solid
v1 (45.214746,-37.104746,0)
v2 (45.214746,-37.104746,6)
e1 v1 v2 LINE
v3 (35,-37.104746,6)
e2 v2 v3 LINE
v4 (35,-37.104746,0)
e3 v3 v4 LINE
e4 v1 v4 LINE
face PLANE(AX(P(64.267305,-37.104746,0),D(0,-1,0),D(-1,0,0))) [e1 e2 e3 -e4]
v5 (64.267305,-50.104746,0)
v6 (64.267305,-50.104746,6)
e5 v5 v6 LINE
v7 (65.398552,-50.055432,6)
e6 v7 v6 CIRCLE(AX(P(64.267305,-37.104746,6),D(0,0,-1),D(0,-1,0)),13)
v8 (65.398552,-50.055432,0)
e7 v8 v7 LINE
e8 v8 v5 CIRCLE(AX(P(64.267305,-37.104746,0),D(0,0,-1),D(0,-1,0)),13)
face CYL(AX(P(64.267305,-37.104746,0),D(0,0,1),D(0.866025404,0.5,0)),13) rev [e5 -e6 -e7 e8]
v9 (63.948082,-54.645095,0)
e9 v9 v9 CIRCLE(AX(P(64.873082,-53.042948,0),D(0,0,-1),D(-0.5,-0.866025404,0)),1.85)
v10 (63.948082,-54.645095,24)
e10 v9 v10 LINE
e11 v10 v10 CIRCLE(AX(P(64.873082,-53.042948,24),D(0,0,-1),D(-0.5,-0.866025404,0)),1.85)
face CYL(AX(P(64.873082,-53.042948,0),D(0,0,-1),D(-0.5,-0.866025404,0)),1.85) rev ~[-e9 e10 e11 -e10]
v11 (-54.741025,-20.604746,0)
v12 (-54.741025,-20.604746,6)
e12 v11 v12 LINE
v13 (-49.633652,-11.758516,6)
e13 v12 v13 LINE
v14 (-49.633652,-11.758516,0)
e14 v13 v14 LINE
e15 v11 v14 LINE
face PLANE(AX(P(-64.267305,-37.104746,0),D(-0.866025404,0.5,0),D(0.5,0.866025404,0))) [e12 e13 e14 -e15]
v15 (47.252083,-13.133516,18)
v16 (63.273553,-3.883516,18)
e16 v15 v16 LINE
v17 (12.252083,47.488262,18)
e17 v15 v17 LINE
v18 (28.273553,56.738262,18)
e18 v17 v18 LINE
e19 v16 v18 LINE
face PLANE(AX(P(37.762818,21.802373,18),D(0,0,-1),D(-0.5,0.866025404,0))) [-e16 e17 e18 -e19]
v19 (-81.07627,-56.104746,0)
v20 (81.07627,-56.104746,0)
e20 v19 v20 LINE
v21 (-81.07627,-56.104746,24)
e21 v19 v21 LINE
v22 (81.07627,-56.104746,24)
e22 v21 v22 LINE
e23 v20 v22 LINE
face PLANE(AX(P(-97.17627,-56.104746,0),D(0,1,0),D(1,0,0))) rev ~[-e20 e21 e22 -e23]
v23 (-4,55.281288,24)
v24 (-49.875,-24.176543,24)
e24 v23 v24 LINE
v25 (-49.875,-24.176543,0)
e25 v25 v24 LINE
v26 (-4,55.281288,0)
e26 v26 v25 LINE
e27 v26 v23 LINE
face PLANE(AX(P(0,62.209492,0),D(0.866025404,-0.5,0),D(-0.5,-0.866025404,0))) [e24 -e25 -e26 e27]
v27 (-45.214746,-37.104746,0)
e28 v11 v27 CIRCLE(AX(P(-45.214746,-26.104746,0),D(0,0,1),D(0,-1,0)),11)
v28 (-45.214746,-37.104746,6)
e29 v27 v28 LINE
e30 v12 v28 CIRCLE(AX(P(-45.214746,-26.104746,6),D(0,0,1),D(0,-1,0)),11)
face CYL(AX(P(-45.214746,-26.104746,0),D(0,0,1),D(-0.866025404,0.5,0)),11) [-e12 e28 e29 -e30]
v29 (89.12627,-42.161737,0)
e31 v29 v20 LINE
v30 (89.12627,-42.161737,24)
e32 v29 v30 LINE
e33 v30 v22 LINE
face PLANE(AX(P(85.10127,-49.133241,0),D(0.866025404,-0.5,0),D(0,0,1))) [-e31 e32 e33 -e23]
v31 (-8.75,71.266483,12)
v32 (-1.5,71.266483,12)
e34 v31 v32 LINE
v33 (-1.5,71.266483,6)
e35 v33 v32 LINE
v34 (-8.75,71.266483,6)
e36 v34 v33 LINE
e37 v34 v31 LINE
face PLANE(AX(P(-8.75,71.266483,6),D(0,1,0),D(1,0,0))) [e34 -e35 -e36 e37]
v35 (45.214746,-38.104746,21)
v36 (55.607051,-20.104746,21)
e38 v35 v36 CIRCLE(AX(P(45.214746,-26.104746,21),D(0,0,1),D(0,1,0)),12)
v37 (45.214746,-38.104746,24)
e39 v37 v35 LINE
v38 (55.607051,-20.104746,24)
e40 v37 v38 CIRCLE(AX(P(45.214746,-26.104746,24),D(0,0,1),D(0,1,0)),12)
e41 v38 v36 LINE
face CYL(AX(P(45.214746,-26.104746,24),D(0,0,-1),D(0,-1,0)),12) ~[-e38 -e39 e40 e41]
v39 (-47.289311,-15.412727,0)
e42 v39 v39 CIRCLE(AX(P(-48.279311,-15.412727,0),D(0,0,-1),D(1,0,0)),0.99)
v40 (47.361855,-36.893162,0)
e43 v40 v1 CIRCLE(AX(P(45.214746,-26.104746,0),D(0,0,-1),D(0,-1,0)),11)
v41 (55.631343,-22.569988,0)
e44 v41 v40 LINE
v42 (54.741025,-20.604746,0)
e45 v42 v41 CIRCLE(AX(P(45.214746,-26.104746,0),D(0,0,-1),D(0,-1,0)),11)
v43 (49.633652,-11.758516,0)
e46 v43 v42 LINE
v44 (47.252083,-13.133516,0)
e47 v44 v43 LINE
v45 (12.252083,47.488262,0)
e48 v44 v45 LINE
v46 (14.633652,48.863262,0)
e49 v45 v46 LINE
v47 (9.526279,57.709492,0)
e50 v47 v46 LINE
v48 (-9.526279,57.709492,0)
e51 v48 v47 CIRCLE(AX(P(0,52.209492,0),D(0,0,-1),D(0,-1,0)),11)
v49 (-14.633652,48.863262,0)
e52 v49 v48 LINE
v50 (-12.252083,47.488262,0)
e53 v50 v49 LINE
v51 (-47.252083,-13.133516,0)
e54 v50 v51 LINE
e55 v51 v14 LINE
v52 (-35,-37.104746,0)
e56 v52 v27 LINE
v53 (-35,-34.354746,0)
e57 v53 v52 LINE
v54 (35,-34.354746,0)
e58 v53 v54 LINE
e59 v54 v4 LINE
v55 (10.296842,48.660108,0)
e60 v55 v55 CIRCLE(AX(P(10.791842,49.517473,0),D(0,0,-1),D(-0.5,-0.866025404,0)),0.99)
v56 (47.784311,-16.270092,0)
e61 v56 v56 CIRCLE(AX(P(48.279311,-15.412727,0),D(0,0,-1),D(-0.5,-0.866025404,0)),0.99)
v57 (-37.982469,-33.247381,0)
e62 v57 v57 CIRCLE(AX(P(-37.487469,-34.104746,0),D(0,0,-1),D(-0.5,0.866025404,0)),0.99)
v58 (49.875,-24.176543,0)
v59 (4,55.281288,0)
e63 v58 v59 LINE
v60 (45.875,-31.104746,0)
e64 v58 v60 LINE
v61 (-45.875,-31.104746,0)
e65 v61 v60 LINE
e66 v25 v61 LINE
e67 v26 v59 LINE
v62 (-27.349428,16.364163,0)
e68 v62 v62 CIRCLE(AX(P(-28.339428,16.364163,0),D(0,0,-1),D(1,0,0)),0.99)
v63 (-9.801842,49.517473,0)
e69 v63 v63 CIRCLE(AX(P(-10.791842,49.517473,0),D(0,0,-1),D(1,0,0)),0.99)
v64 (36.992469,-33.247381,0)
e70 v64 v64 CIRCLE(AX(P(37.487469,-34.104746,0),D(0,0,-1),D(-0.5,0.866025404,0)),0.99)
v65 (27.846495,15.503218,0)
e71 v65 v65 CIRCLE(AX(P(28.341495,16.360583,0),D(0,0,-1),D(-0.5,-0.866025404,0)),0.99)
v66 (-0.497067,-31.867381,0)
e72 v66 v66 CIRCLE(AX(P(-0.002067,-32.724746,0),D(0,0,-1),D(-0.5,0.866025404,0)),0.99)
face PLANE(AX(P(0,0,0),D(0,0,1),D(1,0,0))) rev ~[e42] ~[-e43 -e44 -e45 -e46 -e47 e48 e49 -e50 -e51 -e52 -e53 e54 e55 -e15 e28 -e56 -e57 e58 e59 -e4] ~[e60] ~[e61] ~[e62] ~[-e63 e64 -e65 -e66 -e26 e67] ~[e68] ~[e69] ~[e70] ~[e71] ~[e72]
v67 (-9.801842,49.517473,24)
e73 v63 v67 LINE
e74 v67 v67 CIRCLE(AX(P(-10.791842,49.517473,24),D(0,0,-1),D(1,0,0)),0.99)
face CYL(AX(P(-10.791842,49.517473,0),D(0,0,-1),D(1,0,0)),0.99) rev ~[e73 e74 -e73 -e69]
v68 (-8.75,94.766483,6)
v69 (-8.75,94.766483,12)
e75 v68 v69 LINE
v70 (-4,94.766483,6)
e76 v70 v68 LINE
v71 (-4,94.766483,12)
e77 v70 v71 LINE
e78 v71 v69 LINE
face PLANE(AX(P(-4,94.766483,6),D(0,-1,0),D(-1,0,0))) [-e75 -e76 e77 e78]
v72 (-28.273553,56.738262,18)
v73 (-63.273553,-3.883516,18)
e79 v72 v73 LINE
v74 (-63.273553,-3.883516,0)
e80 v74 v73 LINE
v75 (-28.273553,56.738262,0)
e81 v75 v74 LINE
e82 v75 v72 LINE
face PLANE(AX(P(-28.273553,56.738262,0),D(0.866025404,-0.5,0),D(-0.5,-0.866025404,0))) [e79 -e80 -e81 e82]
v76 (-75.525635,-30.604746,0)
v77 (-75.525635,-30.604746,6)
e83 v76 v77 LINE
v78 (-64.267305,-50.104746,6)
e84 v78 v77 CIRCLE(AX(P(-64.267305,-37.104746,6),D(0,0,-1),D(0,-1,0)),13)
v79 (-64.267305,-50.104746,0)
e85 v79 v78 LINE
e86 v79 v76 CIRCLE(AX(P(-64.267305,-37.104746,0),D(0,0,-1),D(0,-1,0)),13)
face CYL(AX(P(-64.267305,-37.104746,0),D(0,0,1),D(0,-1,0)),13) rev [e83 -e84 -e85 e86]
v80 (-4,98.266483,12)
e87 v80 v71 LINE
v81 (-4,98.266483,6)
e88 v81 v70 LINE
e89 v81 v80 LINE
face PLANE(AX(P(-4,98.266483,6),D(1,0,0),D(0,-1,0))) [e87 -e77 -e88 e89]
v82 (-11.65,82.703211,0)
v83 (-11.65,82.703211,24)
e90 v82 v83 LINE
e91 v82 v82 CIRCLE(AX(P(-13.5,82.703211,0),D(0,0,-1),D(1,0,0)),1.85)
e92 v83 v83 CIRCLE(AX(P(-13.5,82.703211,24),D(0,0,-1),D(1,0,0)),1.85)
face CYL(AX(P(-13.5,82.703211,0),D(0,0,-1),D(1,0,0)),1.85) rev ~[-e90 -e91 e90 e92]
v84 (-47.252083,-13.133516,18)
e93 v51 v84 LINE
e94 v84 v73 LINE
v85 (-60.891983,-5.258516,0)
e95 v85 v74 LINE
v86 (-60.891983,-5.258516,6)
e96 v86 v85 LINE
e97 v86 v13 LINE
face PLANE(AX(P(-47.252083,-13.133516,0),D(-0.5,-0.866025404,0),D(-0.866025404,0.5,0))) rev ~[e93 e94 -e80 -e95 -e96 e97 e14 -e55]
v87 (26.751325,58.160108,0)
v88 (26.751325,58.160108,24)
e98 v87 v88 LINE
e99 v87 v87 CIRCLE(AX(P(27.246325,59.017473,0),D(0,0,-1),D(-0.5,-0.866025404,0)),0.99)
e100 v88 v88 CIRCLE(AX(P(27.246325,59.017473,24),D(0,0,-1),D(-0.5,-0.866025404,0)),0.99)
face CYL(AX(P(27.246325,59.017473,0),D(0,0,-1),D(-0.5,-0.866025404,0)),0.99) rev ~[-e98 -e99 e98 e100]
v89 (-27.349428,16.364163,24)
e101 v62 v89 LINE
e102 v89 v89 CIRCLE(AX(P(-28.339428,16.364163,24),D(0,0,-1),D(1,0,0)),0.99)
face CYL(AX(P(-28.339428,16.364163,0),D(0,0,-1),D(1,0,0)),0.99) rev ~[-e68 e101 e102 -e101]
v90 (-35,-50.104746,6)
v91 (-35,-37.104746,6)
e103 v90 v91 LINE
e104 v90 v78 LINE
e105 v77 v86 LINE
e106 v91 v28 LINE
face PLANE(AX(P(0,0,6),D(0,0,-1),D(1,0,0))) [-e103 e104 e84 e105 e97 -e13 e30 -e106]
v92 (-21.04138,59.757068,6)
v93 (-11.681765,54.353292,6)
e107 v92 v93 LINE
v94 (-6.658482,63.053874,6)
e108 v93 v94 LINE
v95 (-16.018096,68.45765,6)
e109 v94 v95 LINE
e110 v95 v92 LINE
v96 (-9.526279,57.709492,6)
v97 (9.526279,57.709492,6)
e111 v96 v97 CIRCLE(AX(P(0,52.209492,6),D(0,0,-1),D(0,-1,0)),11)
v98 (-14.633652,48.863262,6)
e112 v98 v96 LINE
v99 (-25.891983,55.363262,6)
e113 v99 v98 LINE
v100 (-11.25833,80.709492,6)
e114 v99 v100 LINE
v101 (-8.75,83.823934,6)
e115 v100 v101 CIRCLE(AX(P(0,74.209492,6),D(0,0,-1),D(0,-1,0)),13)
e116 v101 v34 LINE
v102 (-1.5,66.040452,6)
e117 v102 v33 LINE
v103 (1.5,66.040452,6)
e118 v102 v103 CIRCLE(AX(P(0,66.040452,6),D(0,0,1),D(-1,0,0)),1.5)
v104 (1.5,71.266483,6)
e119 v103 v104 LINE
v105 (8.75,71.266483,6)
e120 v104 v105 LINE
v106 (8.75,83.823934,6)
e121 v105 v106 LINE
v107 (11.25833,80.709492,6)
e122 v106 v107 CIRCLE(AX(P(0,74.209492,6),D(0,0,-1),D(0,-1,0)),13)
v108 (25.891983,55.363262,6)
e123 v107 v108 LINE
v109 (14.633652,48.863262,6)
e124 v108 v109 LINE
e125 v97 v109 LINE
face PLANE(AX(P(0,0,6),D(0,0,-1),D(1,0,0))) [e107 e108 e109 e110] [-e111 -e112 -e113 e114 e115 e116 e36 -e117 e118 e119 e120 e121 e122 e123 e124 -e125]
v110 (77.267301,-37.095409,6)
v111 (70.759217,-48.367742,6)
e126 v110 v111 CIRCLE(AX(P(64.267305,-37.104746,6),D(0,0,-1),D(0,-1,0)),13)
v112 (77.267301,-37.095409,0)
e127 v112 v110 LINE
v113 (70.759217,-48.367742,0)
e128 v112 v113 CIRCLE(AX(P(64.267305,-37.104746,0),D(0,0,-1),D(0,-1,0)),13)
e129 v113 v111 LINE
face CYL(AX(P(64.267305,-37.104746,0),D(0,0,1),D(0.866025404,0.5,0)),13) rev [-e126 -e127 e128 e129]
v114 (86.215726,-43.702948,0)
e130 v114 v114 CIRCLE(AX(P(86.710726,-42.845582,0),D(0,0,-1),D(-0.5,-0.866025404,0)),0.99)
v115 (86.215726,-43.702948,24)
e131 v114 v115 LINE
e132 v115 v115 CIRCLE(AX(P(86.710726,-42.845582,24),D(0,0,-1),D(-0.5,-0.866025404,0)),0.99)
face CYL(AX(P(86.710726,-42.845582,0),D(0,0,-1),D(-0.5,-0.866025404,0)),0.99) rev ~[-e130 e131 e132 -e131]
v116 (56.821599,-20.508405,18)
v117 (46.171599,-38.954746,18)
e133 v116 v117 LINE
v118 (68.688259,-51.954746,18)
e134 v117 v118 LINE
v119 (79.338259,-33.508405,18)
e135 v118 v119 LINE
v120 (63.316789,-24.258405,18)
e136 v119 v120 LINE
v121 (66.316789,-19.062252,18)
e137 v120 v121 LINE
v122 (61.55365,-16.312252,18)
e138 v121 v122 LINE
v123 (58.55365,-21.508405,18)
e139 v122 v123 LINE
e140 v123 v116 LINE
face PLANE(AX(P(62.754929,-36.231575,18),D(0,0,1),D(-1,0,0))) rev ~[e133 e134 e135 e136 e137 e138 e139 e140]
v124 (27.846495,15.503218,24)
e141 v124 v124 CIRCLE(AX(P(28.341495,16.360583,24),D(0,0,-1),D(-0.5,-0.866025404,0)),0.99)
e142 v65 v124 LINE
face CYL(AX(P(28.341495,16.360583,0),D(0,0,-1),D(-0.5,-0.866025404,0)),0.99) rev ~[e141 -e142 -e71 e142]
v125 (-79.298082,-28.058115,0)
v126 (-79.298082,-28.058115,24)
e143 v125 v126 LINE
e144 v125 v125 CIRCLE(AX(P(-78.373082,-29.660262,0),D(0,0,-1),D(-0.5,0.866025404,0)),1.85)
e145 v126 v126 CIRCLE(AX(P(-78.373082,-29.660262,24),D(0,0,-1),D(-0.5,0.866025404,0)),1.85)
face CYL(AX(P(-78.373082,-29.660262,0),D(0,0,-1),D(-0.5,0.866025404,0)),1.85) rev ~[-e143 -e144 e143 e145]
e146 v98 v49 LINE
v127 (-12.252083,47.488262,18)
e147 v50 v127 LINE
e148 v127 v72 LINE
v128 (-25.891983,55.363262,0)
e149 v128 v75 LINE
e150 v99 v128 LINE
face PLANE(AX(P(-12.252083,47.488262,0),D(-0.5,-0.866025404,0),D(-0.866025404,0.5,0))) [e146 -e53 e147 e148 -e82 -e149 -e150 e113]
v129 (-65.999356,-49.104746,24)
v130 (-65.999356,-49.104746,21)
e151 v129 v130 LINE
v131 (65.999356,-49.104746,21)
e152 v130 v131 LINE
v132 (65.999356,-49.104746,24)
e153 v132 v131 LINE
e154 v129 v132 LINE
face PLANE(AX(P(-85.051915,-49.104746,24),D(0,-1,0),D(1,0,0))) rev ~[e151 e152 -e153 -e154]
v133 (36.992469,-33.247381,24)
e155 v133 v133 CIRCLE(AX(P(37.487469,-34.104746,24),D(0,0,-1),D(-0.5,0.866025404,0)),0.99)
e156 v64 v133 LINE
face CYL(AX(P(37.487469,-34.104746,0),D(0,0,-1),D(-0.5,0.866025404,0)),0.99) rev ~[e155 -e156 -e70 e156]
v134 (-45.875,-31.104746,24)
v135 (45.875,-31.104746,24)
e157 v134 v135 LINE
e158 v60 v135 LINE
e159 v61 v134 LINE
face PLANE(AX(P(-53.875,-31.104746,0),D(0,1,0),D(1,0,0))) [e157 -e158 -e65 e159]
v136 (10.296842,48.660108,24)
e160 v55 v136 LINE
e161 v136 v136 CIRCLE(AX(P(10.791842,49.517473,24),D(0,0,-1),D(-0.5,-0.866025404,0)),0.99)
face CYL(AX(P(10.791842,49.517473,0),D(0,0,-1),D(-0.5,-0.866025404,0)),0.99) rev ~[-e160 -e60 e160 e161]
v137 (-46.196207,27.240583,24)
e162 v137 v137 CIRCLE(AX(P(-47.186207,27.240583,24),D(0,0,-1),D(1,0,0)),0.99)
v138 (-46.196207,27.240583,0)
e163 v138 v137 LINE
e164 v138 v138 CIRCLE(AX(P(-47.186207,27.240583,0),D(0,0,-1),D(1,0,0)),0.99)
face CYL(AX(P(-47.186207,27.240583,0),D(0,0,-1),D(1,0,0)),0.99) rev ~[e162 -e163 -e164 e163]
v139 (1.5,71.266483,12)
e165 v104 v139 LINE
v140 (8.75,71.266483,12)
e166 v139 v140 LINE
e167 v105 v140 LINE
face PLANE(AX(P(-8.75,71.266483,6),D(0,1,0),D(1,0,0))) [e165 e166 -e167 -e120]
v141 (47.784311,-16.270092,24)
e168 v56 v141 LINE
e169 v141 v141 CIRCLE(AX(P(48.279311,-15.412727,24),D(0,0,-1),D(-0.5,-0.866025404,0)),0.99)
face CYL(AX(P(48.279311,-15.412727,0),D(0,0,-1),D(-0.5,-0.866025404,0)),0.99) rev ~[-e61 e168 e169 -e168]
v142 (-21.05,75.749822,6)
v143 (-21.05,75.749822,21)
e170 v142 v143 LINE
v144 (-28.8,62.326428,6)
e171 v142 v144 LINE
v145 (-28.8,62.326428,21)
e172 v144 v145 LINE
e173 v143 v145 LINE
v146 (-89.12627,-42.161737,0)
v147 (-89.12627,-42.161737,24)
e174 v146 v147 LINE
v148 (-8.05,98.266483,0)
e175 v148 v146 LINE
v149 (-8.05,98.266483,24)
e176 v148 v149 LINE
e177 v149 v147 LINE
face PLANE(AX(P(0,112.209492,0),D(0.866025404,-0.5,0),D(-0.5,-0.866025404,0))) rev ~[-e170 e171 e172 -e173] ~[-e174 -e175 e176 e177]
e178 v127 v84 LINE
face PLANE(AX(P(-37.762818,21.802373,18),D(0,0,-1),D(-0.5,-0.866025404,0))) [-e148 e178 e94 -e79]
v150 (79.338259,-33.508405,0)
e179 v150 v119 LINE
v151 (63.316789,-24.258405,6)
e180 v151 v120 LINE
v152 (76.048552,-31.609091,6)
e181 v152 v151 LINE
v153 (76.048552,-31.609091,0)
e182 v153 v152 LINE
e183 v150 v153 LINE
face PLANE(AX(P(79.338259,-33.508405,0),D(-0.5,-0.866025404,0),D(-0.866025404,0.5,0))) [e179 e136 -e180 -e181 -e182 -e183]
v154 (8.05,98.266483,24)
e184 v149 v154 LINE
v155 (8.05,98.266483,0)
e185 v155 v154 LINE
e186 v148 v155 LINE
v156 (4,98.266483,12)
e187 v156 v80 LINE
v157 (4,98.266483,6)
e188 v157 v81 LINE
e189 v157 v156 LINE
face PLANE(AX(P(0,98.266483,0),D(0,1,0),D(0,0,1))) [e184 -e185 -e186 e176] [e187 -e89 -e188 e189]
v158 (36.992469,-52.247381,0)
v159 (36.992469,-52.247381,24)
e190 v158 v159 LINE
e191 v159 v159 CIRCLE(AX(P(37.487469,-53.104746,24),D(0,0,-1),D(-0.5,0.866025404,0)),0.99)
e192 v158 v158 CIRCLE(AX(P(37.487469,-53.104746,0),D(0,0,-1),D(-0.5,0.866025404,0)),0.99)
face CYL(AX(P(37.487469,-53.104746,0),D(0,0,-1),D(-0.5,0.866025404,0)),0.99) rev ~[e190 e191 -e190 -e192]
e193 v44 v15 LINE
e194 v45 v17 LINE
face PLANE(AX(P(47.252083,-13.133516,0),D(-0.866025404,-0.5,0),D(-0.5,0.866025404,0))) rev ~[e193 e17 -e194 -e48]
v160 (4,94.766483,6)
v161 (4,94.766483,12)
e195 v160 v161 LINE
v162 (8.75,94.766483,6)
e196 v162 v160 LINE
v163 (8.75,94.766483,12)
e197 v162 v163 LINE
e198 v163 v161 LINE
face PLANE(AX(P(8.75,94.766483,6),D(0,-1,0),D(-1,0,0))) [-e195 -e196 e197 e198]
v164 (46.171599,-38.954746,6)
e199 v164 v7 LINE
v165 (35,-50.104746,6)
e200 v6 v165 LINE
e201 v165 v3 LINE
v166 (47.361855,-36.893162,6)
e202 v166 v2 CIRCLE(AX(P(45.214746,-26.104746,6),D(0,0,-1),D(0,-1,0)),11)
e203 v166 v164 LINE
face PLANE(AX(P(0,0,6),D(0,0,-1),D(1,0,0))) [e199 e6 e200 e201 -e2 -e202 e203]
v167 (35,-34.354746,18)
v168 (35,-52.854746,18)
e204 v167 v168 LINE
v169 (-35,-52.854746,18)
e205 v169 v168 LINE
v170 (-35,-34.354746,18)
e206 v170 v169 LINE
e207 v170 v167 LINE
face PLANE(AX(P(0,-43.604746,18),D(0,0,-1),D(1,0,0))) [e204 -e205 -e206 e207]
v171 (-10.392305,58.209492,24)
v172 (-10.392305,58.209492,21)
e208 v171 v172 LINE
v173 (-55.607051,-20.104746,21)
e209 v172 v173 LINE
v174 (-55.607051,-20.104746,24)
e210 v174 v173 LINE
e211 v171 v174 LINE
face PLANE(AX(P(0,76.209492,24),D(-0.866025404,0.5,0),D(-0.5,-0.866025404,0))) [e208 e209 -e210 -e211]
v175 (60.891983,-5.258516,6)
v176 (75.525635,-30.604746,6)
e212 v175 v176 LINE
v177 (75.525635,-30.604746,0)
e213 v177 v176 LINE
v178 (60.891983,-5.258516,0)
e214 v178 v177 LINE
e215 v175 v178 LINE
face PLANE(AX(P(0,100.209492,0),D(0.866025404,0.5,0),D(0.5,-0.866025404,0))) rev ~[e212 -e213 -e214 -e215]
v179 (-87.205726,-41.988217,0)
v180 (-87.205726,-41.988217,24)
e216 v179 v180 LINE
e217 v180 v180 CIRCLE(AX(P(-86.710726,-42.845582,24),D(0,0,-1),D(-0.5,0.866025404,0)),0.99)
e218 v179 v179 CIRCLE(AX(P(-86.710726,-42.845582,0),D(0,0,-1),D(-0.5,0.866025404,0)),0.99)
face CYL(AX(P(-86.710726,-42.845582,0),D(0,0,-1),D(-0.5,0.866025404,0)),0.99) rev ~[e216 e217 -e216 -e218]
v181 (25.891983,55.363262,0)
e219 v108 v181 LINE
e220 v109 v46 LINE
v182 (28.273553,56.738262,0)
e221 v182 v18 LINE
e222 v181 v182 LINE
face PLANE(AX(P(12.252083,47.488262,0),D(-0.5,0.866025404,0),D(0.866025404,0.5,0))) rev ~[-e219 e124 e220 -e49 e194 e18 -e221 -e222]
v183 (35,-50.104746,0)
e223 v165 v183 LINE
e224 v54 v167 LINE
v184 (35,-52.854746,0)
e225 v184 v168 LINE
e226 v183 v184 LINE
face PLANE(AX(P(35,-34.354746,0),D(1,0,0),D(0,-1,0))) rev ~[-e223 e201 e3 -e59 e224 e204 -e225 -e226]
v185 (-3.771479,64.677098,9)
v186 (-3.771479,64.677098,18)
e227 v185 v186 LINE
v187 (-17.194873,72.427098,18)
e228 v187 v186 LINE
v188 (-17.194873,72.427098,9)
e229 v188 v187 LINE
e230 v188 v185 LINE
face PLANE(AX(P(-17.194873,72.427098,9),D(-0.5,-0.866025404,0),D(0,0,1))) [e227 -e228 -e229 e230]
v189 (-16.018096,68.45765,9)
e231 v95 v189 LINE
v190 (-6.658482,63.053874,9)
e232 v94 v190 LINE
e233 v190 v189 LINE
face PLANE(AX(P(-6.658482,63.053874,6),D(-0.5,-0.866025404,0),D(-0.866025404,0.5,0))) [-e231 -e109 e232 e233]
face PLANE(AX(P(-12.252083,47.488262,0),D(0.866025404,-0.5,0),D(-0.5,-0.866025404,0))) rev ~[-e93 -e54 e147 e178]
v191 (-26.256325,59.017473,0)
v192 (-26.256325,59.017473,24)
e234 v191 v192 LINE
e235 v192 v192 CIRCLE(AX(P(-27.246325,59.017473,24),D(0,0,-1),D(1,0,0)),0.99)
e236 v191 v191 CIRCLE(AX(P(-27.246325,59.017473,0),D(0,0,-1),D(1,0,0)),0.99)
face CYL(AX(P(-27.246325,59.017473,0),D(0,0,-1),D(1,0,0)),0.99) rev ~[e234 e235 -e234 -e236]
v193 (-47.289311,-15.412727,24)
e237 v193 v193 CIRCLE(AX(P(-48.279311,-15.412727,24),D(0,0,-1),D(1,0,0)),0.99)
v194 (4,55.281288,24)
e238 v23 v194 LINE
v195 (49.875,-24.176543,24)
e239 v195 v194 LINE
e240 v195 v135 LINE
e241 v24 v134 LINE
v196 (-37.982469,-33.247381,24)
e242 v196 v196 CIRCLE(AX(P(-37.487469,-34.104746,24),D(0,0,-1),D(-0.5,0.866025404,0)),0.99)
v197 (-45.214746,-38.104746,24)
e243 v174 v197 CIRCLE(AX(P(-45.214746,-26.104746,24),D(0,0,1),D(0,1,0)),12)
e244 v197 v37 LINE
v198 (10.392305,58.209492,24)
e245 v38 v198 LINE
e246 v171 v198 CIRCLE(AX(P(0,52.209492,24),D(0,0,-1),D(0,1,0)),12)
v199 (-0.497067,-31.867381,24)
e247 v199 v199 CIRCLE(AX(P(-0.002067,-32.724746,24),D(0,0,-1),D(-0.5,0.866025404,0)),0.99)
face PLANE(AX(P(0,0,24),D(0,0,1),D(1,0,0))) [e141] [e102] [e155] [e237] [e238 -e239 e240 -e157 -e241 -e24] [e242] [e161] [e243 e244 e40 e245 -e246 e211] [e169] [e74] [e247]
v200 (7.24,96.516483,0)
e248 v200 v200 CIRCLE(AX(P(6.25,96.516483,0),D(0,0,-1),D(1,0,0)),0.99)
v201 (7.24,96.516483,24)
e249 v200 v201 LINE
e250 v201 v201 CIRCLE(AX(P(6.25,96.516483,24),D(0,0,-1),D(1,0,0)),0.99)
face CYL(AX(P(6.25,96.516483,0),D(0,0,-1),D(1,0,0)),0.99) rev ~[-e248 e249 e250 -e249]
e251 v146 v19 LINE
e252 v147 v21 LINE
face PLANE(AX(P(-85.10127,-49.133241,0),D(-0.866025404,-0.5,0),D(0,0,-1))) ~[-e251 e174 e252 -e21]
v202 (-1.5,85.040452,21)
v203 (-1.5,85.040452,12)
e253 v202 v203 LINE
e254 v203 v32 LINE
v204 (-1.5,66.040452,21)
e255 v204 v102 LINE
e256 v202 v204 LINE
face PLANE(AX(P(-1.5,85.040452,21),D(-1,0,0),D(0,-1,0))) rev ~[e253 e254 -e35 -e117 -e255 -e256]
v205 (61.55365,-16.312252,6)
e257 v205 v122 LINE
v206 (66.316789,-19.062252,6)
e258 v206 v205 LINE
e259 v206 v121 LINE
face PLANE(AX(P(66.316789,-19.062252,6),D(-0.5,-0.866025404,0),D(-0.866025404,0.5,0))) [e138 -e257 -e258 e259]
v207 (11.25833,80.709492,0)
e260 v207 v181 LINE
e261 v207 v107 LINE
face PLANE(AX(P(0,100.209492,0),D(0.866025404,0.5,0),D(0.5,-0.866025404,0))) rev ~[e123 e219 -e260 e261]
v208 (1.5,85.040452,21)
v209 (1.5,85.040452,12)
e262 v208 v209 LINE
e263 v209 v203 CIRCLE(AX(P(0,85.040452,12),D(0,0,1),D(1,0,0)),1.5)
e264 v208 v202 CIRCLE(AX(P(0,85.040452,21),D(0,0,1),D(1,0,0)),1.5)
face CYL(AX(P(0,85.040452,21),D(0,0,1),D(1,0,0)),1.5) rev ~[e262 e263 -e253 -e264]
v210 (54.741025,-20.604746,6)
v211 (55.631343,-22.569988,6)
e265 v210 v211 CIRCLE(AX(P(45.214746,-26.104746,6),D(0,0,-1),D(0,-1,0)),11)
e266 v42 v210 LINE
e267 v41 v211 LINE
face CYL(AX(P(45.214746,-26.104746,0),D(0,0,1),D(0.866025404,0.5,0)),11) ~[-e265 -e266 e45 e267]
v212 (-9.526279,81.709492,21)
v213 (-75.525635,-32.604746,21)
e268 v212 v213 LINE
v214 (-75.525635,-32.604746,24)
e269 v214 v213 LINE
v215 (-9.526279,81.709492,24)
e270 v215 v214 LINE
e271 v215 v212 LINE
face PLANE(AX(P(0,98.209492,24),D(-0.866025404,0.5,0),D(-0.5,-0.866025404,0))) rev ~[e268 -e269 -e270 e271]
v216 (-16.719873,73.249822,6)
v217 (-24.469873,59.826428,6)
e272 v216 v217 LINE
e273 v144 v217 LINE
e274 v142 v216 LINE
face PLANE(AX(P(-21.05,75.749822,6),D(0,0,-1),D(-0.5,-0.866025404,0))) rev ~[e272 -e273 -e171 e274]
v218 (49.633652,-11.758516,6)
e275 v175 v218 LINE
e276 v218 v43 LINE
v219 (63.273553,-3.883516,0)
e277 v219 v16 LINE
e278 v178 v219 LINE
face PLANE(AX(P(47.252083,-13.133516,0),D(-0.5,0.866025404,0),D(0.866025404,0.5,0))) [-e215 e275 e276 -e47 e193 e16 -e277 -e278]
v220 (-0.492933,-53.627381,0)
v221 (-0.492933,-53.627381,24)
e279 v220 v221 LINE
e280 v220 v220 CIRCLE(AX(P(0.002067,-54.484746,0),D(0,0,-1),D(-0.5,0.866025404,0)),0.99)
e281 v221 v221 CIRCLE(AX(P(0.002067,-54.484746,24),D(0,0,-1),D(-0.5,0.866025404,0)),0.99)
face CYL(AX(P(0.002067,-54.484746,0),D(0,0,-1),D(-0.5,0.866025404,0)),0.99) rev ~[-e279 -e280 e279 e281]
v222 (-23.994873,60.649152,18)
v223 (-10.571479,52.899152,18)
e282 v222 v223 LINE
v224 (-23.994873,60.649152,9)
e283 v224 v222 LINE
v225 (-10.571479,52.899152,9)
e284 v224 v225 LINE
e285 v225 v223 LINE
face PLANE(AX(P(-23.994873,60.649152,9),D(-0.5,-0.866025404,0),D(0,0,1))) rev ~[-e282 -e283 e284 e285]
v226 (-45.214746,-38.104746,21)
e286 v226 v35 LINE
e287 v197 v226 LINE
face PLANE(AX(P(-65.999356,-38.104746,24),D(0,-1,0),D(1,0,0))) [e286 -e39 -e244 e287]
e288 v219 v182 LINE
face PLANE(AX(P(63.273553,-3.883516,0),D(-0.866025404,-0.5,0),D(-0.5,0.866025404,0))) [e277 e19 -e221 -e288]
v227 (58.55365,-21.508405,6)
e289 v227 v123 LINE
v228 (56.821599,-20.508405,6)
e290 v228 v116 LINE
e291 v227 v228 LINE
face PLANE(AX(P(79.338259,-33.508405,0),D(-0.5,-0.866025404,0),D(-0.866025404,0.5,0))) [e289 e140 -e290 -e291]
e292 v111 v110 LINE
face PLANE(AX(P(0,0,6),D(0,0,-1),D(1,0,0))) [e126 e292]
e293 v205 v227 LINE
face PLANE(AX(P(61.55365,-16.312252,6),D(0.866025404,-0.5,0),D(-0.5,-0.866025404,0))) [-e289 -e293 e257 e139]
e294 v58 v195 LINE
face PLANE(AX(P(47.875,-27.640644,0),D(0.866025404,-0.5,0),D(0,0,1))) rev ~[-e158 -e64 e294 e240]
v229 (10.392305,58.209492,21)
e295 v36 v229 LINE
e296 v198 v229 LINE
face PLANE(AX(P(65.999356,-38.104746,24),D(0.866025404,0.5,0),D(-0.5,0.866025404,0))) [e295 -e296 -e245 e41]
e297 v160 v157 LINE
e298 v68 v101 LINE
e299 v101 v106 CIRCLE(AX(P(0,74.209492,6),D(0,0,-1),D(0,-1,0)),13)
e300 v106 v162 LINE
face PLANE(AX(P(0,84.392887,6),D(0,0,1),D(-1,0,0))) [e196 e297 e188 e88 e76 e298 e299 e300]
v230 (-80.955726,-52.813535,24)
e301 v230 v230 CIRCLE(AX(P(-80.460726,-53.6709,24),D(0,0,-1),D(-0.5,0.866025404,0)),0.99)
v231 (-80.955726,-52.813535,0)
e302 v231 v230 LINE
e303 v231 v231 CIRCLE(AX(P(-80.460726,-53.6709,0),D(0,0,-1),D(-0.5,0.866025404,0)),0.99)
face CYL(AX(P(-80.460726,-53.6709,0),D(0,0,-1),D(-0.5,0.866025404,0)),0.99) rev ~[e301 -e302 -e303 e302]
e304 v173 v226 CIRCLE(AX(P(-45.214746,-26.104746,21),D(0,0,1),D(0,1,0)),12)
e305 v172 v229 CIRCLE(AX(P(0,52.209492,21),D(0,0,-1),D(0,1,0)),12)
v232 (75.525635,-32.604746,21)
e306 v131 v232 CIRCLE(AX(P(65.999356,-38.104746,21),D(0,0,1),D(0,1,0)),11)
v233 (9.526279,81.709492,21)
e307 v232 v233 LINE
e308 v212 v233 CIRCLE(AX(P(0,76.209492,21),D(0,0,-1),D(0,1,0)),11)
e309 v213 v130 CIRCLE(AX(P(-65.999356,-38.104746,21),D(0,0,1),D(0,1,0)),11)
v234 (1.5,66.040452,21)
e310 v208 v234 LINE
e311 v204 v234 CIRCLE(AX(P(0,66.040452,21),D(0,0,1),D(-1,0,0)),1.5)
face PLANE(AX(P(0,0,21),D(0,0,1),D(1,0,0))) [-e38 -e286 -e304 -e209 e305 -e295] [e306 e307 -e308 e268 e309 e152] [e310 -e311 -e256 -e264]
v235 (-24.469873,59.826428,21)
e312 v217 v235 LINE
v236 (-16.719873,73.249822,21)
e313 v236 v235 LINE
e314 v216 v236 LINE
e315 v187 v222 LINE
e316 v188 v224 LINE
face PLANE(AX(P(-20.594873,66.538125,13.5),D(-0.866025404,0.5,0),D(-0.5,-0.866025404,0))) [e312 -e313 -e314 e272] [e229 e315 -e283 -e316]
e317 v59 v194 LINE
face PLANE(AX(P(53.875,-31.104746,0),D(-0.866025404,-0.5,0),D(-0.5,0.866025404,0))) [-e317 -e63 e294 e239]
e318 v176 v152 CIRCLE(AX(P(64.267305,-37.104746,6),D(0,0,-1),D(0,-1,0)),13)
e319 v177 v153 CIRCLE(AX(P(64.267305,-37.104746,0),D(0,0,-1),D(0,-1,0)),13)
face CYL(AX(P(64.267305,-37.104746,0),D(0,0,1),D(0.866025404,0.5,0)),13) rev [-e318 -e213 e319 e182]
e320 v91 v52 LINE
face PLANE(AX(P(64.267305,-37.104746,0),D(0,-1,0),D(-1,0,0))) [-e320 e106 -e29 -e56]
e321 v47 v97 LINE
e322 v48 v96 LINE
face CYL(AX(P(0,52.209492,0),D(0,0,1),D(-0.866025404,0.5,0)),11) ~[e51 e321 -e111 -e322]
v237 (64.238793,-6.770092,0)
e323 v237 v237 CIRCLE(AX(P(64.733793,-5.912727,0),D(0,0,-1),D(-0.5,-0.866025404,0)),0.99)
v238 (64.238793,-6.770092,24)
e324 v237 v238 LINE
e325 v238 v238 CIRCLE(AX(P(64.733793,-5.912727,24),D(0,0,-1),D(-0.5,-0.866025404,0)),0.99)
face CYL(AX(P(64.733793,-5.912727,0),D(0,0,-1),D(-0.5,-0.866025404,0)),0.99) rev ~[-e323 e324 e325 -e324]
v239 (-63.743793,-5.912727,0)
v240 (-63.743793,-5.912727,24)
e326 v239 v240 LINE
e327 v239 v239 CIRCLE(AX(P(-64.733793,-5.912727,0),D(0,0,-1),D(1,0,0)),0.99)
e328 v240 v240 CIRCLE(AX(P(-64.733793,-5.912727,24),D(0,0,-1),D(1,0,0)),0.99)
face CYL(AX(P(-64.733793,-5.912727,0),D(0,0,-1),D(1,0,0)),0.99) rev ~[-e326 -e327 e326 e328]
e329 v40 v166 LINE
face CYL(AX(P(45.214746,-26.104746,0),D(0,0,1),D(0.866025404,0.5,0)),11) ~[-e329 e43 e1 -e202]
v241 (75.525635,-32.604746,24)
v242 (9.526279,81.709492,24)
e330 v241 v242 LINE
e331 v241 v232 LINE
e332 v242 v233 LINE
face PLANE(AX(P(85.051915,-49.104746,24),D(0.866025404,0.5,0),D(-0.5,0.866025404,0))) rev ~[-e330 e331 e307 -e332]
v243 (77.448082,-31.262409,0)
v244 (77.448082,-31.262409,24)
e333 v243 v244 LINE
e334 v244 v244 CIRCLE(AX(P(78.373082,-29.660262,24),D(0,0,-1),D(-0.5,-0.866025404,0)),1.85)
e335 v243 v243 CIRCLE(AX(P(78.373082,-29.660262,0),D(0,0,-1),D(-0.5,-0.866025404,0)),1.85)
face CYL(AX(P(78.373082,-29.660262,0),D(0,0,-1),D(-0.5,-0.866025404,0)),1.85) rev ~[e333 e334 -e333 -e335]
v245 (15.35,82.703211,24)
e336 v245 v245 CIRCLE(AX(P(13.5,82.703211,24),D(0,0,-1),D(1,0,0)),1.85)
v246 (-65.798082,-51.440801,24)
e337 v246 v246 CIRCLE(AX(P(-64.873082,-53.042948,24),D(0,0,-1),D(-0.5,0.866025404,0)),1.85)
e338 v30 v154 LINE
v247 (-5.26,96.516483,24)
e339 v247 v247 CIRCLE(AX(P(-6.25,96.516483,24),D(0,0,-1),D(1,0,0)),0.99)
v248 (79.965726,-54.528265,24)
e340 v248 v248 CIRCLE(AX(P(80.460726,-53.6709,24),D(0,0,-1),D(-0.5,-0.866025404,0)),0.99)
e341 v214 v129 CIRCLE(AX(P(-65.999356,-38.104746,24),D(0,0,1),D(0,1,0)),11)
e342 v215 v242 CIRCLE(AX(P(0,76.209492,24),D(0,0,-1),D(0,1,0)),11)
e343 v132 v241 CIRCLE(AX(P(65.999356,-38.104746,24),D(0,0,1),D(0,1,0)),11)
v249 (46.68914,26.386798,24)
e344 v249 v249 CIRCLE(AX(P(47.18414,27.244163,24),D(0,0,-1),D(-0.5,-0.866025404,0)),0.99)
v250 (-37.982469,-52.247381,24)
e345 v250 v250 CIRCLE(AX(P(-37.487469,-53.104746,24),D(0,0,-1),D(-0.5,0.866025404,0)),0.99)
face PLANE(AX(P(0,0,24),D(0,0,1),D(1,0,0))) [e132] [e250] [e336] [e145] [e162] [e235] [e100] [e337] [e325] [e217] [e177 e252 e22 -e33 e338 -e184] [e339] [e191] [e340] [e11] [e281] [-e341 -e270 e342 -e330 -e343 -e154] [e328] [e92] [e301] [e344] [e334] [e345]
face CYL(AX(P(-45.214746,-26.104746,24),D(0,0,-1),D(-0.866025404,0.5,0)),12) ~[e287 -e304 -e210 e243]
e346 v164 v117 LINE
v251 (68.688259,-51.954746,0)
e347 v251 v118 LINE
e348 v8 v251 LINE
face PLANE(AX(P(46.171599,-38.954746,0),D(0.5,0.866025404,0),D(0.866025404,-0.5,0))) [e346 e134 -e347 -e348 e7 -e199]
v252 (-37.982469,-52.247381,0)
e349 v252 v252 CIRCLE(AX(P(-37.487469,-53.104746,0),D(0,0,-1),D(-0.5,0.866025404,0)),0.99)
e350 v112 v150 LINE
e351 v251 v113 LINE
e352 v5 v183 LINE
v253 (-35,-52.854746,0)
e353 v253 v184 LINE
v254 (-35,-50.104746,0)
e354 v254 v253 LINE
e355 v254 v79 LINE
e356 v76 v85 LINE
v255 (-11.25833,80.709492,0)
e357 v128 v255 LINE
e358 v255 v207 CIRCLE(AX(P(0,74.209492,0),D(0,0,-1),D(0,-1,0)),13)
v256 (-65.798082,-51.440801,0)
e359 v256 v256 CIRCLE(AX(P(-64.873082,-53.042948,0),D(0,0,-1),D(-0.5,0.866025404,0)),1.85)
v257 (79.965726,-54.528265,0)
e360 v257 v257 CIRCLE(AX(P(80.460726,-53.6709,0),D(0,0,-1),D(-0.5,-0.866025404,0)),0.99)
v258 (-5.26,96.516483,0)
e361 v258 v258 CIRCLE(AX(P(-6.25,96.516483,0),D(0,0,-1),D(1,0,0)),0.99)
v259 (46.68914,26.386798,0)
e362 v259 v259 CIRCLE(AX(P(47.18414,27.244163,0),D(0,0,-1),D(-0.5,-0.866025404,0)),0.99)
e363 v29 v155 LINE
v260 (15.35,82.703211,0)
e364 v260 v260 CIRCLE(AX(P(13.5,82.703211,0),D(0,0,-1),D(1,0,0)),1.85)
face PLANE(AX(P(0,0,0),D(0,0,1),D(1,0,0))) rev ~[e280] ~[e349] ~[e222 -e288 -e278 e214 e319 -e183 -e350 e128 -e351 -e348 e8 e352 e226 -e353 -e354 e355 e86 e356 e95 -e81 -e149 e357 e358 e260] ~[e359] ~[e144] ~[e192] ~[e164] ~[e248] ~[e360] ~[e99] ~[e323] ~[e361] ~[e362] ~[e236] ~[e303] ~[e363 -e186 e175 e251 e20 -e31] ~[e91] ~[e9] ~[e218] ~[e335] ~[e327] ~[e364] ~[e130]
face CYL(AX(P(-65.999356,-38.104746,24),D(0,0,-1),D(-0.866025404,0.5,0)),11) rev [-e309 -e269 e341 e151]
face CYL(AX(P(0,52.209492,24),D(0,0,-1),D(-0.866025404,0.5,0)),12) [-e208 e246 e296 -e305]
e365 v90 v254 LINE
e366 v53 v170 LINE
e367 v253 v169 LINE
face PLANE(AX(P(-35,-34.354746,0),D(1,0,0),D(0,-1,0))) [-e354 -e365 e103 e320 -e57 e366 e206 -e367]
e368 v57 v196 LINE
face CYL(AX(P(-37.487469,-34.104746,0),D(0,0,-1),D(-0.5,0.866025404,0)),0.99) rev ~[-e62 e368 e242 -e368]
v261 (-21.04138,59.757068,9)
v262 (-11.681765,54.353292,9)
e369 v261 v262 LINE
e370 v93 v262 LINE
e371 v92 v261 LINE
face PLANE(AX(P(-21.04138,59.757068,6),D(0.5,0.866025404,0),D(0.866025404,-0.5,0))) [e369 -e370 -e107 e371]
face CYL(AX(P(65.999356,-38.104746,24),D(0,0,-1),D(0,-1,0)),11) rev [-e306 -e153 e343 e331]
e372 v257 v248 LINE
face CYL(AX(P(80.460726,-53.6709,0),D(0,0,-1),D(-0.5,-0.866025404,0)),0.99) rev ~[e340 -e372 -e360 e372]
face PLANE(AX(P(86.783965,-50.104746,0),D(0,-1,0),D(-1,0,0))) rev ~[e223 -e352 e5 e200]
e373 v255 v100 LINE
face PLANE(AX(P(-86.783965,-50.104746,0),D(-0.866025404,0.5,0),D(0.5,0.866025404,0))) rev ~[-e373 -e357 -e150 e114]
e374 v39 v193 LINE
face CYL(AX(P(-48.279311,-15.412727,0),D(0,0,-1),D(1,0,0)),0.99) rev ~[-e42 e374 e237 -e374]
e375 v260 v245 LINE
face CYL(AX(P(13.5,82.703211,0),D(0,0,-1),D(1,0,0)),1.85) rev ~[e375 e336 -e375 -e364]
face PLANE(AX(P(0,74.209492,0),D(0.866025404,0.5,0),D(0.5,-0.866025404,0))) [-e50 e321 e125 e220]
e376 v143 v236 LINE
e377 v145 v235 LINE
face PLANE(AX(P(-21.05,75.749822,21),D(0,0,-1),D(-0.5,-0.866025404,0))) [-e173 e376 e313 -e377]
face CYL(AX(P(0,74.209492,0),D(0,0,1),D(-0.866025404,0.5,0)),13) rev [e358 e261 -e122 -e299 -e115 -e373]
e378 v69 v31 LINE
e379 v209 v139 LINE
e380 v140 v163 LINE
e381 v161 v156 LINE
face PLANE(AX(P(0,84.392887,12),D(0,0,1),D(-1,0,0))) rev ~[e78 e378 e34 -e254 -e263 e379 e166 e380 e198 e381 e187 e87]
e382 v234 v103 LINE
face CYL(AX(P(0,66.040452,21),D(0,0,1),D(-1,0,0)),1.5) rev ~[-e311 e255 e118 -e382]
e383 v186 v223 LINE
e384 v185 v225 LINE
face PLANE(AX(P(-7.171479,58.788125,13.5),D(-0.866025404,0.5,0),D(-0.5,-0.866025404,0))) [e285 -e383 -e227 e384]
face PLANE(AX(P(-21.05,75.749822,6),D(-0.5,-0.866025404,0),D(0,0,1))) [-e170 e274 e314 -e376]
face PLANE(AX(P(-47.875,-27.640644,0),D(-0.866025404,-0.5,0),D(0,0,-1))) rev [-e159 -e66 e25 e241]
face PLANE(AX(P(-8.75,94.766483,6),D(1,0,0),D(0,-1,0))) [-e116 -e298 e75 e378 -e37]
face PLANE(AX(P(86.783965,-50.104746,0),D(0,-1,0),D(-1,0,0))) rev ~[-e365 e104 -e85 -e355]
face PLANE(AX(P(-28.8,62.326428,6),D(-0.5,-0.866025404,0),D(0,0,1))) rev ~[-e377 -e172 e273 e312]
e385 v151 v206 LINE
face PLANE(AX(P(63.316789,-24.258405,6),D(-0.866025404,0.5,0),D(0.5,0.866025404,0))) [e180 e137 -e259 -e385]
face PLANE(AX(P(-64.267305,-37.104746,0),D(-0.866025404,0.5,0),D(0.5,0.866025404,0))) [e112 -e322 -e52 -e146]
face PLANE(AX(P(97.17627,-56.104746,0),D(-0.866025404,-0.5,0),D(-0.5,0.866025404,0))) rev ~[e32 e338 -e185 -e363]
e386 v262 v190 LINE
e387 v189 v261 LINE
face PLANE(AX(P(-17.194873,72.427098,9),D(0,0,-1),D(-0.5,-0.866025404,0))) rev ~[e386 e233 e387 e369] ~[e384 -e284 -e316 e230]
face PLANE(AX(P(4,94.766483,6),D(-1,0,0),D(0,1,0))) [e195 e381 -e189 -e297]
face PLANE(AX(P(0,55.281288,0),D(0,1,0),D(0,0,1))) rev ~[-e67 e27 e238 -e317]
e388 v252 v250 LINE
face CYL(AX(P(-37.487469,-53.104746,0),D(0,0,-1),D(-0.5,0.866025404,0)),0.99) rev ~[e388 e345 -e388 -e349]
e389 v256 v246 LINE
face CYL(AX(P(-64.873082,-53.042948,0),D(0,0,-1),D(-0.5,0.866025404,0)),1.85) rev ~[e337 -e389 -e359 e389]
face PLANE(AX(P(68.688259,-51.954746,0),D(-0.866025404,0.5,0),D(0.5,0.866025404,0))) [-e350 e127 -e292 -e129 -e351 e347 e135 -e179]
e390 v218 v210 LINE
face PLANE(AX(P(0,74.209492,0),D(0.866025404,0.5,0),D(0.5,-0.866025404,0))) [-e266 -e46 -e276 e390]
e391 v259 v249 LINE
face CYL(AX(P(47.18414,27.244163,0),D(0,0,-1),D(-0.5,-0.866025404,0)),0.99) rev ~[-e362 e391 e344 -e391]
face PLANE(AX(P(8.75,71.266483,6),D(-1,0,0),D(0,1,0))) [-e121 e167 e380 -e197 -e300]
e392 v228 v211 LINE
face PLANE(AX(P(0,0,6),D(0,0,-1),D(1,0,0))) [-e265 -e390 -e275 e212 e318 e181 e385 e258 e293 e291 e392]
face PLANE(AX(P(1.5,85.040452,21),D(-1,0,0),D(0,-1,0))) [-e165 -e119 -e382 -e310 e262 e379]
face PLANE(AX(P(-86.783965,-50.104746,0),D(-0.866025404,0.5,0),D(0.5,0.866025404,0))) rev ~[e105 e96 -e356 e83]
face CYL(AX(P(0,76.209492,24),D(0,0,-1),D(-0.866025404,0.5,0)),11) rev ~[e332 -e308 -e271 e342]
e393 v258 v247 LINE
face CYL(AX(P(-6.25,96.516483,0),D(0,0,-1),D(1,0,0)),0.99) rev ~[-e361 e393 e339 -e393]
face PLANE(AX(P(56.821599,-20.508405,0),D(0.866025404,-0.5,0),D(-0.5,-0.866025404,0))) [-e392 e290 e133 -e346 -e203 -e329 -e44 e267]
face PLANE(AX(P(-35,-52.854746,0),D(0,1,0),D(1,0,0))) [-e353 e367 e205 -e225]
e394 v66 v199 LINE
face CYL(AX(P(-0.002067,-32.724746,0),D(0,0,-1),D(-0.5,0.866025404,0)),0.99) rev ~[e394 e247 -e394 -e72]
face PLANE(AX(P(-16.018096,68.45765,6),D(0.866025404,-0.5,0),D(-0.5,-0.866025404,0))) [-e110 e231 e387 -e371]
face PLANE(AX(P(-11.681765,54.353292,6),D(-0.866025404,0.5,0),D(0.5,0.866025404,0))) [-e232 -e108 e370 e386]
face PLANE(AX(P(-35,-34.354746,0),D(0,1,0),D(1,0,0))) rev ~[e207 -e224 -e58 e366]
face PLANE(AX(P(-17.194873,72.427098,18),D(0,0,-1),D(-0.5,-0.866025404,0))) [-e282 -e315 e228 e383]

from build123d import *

# Parameters (mm, degrees)
PAD_DEPTH             = 24
POCKET_DEPTH          = 3
SKETCH002_W           = 70
SKETCH002_H           = 18.5
POCKET001_DEPTH       = 18
POLARPATTERN_COUNT    = 3
POCKET002_DEPTH       = 6
CHAMFER_SIZE          = 8
FILLET_R              = 13
FILLET001_R           = 11
CHAMFER001_SIZE       = 16.1
FILLET002_R           = 11
FILLET003_R           = 12
POCKET003_DEPTH       = 6
POCKET004_DEPTH       = 18
POCKET005_DEPTH       = 21.001
SKETCH007_W           = 15.5
SKETCH007_H           = 15
POCKET006_DEPTH       = 5
SKETCH010_W           = 13.6
SKETCH010_H           = 9
POCKET009_DEPTH       = 15.5
POCKET010_DEPTH       = 3
SKETCH012_R           = 1.85
SKETCH012_R_2         = 0.99
POCKET011_DEPTH       = 498.0492855781
POLARPATTERN001_COUNT = 3
POCKET012_DEPTH       = 12


with BuildPart() as part:
    # Sketch → Pad (new body)
    with BuildSketch(Plane.XY):
        Polygon((0, 112.2094915052), (-97.1762701892, -56.1047457526), (97.1762701892, -56.1047457526), align=None)
        Polygon((0, 62.2094915052), (-53.875, -31.1047457526), (53.875, -31.1047457526), align=None, mode=Mode.SUBTRACT)
    extrude(amount=PAD_DEPTH)

    # Sketch001 (on Face8 of Pad) → Pocket (cut)
    with BuildSketch(Plane.XY.offset(24)):
        Polygon((0, 98.2094915052), (-85.0519145362, -49.1047457526), (85.0519145362, -49.1047457526), align=None)
        Polygon((0, 76.2094915052), (-65.999355653, -38.1047457526), (65.999355653, -38.1047457526), align=None, mode=Mode.SUBTRACT)
    extrude(amount=-POCKET_DEPTH, mode=Mode.SUBTRACT)

    # Sketch002 (on Face4 of Pocket) → Pocket001 (cut)
    with BuildSketch(Plane(origin=(0, 0, 0), x_dir=(1, 0, 0), z_dir=(0, 0, -1))):
        with Locations((0, 43.6047457526)):
            Rectangle(SKETCH002_W, SKETCH002_H)
    pocket001 = extrude(amount=-POCKET001_DEPTH, mode=Mode.SUBTRACT)

    # PolarPattern: Pocket001 ×3 about axis
    polarpattern_axis = Axis((0, 0, 0), (0, 0, -1))
    for i in range(1, POLARPATTERN_COUNT):
        add(pocket001.rotate(polarpattern_axis, i * 360 / POLARPATTERN_COUNT), mode=Mode.SUBTRACT)

    # Sketch003 (on Face4 of PolarPattern) → Pocket002 (cut)
    with BuildSketch(Plane(origin=(0, 0, 0), x_dir=(1, 0, 0), z_dir=(0, 0, -1))):
        Polygon((0, -100.2094915052), (86.7839653438, 50.1047457526), (-86.7839653438, 50.1047457526), align=None)
        Polygon((0, -74.2094915052), (64.2673048454, 37.1047457526), (-64.2673048454, 37.1047457526), align=None, mode=Mode.SUBTRACT)
    extrude(amount=-POCKET002_DEPTH, mode=Mode.SUBTRACT)

    # Chamfer
    chamfer_edges = [part.edges().sort_by_distance(p)[0] for p in [
        (-53.875, -31.104746, 12),
        (53.875, -31.104746, 12),
        (0, 62.209492, 12),
    ]]
    chamfer(chamfer_edges, length=CHAMFER_SIZE)

    # Fillet
    fillet_edges = [part.edges().sort_by_distance(p)[0] for p in [
        (0, 100.209492, 3),
        (-86.783965, -50.104746, 3),
        (86.783965, -50.104746, 3),
    ]]
    fillet(fillet_edges, radius=FILLET_R)

    # Fillet001
    fillet001_edges = [part.edges().sort_by_distance(p)[0] for p in [
        (0, 74.209492, 3),
        (64.267305, -37.104746, 3),
        (-64.267305, -37.104746, 3),
    ]]
    fillet(fillet001_edges, radius=FILLET001_R)

    # Chamfer001
    chamfer001_edges = [part.edges().sort_by_distance(p)[0] for p in [
        (97.17627, -56.104746, 12),
        (0, 112.209492, 12),
        (-97.17627, -56.104746, 12),
    ]]
    chamfer(chamfer001_edges, length=CHAMFER001_SIZE)

    # Fillet002
    fillet002_edges = [part.edges().sort_by_distance(p)[0] for p in [
        (0, 98.209492, 22.5),
        (-85.051915, -49.104746, 22.5),
        (85.051915, -49.104746, 22.5),
    ]]
    fillet(fillet002_edges, radius=FILLET002_R)

    # Fillet003
    fillet003_edges = [part.edges().sort_by_distance(p)[0] for p in [
        (65.999356, -38.104746, 22.5),
        (0, 76.209492, 22.5),
        (-65.999356, -38.104746, 22.5),
    ]]
    fillet(fillet003_edges, radius=FILLET003_R)

    # Sketch004 (on Face60 of Fillet003) → Pocket003 (cut)
    with BuildSketch(Plane(origin=(0, 0, 6), x_dir=(1, 0, 0), z_dir=(0, 0, -1))):
        Polygon((-8.75, -71.2664825043), (8.75, -71.2664825043), (8.75, -94.7664825043), (4, -94.7664825043), (4, -98.2664825043), (-4, -98.2664825043), (-4, -94.7664825043), (-8.75, -94.7664825043), align=None)
    extrude(amount=-POCKET003_DEPTH, mode=Mode.SUBTRACT)

    # Sketch005 (on Face29 of Pocket003) → Pocket004 (cut)
    with BuildSketch(Plane(origin=(0, 0, 0), x_dir=(1, 0, 0), z_dir=(0, 0, -1))):
        Polygon((46.1715988394, 38.9547457526), (68.6882593378, 51.9547457526), (79.3382593378, 33.508404652), (56.8215988394, 20.508404652), align=None)
    extrude(amount=-POCKET004_DEPTH, mode=Mode.SUBTRACT)

    # Sketch006 (on Face1 of Pocket004) → Pocket005 (cut, through all)
    with BuildSketch(Plane.XY.offset(21)):
        with BuildLine():
            ThreePointArc((1.5, 85.0404521425), (0, 86.5404521425), (-1.5, 85.0404521425))
            Line((-1.5, 85.0404521425), (-1.5, 66.0404521425))
            ThreePointArc((-1.5, 66.0404521425), (0, 64.5404521425), (1.5, 66.0404521425))
            Line((1.5, 85.0404521425), (1.5, 66.0404521425))
        make_face()
    extrude(amount=-POCKET005_DEPTH, mode=Mode.SUBTRACT)

    # Sketch007 (on Face24 of Pocket005) → Pocket006 (cut)
    with BuildSketch(Plane(origin=(-48.5881350946, 28.0523728763, 0), x_dir=(-0.5, -0.8660254038, 0), z_dir=(-0.8660254038, 0.5, 0))):
        with Locations((-47.3262701892, 13.5)):
            Rectangle(SKETCH007_W, SKETCH007_H)
    extrude(amount=-POCKET006_DEPTH, mode=Mode.SUBTRACT)

    # Sketch010 (on Face79 of Pocket006) → Pocket009 (cut)
    with BuildSketch(Plane(origin=(-44.2580080757, 25.5523728763, 0), x_dir=(-0.5, -0.8660254038, 0), z_dir=(-0.8660254038, 0.5, 0))):
        with Locations((-47.3262701892, 13.5)):
            Rectangle(SKETCH010_W, SKETCH010_H)
    extrude(amount=-POCKET009_DEPTH, mode=Mode.SUBTRACT)

    # Sketch011 (on Face21 of Pocket009) → Pocket010 (cut)
    with BuildSketch(Plane(origin=(0, 0, 6), x_dir=(1, 0, 0), z_dir=(0, 0, -1))):
        Polygon((-21.0413798427, -59.7570681827), (-11.6817654684, -54.3532923042), (-6.658482036, -63.0538744299), (-16.0180964103, -68.4576503084), align=None)
    extrude(amount=-POCKET010_DEPTH, mode=Mode.SUBTRACT)

    # Sketch012 (on Face54 of Pocket010) → Pocket011 (cut, through all)
    with BuildSketch(Plane(origin=(0, 0, 0), x_dir=(1, 0, 0), z_dir=(0, 0, -1))):
        with Locations((-13.5, -82.7032108255)):
            Circle(SKETCH012_R)
        with Locations((13.5, -82.7032108255)):
            Circle(SKETCH012_R)
        with Locations((-6.25, -96.5164825043)):
            Circle(SKETCH012_R_2)
        with Locations((6.25, -96.5164825043)):
            Circle(SKETCH012_R_2)
        with Locations((-27.2463245869, -59.0174730012)):
            Circle(SKETCH012_R_2)
        with Locations((-47.1862074814, -27.2405827309)):
            Circle(SKETCH012_R_2)
        with Locations((-64.7337931796, 5.9127272486)):
            Circle(SKETCH012_R_2)
        with Locations((-10.791841915, -49.5174730012)):
            Circle(SKETCH012_R_2)
        with Locations((-28.3394276132, -16.3641630217)):
            Circle(SKETCH012_R_2)
        with Locations((-48.2793105078, 15.4127272487)):
            Circle(SKETCH012_R_2)
    pocket011 = extrude(amount=-POCKET011_DEPTH, mode=Mode.SUBTRACT)

    # PolarPattern001: Pocket011 ×3 about axis
    polarpattern001_axis = Axis((0, 0, 0), (0, 0, -1))
    for i in range(1, POLARPATTERN001_COUNT):
        add(pocket011.rotate(polarpattern001_axis, i * 360 / POLARPATTERN001_COUNT), mode=Mode.SUBTRACT)

    # Sketch013 (on Face132 of PolarPattern001) → Pocket012 (cut)
    with BuildSketch(Plane(origin=(0, 0, 6), x_dir=(1, 0, 0), z_dir=(0, 0, -1))):
        Polygon((58.553649647, 21.508404652), (63.3167893678, 24.258404652), (66.3167893678, 19.0622522293), (61.553649647, 16.3122522293), align=None)
    extrude(amount=-POCKET012_DEPTH, mode=Mode.SUBTRACT)


solid = part.part
